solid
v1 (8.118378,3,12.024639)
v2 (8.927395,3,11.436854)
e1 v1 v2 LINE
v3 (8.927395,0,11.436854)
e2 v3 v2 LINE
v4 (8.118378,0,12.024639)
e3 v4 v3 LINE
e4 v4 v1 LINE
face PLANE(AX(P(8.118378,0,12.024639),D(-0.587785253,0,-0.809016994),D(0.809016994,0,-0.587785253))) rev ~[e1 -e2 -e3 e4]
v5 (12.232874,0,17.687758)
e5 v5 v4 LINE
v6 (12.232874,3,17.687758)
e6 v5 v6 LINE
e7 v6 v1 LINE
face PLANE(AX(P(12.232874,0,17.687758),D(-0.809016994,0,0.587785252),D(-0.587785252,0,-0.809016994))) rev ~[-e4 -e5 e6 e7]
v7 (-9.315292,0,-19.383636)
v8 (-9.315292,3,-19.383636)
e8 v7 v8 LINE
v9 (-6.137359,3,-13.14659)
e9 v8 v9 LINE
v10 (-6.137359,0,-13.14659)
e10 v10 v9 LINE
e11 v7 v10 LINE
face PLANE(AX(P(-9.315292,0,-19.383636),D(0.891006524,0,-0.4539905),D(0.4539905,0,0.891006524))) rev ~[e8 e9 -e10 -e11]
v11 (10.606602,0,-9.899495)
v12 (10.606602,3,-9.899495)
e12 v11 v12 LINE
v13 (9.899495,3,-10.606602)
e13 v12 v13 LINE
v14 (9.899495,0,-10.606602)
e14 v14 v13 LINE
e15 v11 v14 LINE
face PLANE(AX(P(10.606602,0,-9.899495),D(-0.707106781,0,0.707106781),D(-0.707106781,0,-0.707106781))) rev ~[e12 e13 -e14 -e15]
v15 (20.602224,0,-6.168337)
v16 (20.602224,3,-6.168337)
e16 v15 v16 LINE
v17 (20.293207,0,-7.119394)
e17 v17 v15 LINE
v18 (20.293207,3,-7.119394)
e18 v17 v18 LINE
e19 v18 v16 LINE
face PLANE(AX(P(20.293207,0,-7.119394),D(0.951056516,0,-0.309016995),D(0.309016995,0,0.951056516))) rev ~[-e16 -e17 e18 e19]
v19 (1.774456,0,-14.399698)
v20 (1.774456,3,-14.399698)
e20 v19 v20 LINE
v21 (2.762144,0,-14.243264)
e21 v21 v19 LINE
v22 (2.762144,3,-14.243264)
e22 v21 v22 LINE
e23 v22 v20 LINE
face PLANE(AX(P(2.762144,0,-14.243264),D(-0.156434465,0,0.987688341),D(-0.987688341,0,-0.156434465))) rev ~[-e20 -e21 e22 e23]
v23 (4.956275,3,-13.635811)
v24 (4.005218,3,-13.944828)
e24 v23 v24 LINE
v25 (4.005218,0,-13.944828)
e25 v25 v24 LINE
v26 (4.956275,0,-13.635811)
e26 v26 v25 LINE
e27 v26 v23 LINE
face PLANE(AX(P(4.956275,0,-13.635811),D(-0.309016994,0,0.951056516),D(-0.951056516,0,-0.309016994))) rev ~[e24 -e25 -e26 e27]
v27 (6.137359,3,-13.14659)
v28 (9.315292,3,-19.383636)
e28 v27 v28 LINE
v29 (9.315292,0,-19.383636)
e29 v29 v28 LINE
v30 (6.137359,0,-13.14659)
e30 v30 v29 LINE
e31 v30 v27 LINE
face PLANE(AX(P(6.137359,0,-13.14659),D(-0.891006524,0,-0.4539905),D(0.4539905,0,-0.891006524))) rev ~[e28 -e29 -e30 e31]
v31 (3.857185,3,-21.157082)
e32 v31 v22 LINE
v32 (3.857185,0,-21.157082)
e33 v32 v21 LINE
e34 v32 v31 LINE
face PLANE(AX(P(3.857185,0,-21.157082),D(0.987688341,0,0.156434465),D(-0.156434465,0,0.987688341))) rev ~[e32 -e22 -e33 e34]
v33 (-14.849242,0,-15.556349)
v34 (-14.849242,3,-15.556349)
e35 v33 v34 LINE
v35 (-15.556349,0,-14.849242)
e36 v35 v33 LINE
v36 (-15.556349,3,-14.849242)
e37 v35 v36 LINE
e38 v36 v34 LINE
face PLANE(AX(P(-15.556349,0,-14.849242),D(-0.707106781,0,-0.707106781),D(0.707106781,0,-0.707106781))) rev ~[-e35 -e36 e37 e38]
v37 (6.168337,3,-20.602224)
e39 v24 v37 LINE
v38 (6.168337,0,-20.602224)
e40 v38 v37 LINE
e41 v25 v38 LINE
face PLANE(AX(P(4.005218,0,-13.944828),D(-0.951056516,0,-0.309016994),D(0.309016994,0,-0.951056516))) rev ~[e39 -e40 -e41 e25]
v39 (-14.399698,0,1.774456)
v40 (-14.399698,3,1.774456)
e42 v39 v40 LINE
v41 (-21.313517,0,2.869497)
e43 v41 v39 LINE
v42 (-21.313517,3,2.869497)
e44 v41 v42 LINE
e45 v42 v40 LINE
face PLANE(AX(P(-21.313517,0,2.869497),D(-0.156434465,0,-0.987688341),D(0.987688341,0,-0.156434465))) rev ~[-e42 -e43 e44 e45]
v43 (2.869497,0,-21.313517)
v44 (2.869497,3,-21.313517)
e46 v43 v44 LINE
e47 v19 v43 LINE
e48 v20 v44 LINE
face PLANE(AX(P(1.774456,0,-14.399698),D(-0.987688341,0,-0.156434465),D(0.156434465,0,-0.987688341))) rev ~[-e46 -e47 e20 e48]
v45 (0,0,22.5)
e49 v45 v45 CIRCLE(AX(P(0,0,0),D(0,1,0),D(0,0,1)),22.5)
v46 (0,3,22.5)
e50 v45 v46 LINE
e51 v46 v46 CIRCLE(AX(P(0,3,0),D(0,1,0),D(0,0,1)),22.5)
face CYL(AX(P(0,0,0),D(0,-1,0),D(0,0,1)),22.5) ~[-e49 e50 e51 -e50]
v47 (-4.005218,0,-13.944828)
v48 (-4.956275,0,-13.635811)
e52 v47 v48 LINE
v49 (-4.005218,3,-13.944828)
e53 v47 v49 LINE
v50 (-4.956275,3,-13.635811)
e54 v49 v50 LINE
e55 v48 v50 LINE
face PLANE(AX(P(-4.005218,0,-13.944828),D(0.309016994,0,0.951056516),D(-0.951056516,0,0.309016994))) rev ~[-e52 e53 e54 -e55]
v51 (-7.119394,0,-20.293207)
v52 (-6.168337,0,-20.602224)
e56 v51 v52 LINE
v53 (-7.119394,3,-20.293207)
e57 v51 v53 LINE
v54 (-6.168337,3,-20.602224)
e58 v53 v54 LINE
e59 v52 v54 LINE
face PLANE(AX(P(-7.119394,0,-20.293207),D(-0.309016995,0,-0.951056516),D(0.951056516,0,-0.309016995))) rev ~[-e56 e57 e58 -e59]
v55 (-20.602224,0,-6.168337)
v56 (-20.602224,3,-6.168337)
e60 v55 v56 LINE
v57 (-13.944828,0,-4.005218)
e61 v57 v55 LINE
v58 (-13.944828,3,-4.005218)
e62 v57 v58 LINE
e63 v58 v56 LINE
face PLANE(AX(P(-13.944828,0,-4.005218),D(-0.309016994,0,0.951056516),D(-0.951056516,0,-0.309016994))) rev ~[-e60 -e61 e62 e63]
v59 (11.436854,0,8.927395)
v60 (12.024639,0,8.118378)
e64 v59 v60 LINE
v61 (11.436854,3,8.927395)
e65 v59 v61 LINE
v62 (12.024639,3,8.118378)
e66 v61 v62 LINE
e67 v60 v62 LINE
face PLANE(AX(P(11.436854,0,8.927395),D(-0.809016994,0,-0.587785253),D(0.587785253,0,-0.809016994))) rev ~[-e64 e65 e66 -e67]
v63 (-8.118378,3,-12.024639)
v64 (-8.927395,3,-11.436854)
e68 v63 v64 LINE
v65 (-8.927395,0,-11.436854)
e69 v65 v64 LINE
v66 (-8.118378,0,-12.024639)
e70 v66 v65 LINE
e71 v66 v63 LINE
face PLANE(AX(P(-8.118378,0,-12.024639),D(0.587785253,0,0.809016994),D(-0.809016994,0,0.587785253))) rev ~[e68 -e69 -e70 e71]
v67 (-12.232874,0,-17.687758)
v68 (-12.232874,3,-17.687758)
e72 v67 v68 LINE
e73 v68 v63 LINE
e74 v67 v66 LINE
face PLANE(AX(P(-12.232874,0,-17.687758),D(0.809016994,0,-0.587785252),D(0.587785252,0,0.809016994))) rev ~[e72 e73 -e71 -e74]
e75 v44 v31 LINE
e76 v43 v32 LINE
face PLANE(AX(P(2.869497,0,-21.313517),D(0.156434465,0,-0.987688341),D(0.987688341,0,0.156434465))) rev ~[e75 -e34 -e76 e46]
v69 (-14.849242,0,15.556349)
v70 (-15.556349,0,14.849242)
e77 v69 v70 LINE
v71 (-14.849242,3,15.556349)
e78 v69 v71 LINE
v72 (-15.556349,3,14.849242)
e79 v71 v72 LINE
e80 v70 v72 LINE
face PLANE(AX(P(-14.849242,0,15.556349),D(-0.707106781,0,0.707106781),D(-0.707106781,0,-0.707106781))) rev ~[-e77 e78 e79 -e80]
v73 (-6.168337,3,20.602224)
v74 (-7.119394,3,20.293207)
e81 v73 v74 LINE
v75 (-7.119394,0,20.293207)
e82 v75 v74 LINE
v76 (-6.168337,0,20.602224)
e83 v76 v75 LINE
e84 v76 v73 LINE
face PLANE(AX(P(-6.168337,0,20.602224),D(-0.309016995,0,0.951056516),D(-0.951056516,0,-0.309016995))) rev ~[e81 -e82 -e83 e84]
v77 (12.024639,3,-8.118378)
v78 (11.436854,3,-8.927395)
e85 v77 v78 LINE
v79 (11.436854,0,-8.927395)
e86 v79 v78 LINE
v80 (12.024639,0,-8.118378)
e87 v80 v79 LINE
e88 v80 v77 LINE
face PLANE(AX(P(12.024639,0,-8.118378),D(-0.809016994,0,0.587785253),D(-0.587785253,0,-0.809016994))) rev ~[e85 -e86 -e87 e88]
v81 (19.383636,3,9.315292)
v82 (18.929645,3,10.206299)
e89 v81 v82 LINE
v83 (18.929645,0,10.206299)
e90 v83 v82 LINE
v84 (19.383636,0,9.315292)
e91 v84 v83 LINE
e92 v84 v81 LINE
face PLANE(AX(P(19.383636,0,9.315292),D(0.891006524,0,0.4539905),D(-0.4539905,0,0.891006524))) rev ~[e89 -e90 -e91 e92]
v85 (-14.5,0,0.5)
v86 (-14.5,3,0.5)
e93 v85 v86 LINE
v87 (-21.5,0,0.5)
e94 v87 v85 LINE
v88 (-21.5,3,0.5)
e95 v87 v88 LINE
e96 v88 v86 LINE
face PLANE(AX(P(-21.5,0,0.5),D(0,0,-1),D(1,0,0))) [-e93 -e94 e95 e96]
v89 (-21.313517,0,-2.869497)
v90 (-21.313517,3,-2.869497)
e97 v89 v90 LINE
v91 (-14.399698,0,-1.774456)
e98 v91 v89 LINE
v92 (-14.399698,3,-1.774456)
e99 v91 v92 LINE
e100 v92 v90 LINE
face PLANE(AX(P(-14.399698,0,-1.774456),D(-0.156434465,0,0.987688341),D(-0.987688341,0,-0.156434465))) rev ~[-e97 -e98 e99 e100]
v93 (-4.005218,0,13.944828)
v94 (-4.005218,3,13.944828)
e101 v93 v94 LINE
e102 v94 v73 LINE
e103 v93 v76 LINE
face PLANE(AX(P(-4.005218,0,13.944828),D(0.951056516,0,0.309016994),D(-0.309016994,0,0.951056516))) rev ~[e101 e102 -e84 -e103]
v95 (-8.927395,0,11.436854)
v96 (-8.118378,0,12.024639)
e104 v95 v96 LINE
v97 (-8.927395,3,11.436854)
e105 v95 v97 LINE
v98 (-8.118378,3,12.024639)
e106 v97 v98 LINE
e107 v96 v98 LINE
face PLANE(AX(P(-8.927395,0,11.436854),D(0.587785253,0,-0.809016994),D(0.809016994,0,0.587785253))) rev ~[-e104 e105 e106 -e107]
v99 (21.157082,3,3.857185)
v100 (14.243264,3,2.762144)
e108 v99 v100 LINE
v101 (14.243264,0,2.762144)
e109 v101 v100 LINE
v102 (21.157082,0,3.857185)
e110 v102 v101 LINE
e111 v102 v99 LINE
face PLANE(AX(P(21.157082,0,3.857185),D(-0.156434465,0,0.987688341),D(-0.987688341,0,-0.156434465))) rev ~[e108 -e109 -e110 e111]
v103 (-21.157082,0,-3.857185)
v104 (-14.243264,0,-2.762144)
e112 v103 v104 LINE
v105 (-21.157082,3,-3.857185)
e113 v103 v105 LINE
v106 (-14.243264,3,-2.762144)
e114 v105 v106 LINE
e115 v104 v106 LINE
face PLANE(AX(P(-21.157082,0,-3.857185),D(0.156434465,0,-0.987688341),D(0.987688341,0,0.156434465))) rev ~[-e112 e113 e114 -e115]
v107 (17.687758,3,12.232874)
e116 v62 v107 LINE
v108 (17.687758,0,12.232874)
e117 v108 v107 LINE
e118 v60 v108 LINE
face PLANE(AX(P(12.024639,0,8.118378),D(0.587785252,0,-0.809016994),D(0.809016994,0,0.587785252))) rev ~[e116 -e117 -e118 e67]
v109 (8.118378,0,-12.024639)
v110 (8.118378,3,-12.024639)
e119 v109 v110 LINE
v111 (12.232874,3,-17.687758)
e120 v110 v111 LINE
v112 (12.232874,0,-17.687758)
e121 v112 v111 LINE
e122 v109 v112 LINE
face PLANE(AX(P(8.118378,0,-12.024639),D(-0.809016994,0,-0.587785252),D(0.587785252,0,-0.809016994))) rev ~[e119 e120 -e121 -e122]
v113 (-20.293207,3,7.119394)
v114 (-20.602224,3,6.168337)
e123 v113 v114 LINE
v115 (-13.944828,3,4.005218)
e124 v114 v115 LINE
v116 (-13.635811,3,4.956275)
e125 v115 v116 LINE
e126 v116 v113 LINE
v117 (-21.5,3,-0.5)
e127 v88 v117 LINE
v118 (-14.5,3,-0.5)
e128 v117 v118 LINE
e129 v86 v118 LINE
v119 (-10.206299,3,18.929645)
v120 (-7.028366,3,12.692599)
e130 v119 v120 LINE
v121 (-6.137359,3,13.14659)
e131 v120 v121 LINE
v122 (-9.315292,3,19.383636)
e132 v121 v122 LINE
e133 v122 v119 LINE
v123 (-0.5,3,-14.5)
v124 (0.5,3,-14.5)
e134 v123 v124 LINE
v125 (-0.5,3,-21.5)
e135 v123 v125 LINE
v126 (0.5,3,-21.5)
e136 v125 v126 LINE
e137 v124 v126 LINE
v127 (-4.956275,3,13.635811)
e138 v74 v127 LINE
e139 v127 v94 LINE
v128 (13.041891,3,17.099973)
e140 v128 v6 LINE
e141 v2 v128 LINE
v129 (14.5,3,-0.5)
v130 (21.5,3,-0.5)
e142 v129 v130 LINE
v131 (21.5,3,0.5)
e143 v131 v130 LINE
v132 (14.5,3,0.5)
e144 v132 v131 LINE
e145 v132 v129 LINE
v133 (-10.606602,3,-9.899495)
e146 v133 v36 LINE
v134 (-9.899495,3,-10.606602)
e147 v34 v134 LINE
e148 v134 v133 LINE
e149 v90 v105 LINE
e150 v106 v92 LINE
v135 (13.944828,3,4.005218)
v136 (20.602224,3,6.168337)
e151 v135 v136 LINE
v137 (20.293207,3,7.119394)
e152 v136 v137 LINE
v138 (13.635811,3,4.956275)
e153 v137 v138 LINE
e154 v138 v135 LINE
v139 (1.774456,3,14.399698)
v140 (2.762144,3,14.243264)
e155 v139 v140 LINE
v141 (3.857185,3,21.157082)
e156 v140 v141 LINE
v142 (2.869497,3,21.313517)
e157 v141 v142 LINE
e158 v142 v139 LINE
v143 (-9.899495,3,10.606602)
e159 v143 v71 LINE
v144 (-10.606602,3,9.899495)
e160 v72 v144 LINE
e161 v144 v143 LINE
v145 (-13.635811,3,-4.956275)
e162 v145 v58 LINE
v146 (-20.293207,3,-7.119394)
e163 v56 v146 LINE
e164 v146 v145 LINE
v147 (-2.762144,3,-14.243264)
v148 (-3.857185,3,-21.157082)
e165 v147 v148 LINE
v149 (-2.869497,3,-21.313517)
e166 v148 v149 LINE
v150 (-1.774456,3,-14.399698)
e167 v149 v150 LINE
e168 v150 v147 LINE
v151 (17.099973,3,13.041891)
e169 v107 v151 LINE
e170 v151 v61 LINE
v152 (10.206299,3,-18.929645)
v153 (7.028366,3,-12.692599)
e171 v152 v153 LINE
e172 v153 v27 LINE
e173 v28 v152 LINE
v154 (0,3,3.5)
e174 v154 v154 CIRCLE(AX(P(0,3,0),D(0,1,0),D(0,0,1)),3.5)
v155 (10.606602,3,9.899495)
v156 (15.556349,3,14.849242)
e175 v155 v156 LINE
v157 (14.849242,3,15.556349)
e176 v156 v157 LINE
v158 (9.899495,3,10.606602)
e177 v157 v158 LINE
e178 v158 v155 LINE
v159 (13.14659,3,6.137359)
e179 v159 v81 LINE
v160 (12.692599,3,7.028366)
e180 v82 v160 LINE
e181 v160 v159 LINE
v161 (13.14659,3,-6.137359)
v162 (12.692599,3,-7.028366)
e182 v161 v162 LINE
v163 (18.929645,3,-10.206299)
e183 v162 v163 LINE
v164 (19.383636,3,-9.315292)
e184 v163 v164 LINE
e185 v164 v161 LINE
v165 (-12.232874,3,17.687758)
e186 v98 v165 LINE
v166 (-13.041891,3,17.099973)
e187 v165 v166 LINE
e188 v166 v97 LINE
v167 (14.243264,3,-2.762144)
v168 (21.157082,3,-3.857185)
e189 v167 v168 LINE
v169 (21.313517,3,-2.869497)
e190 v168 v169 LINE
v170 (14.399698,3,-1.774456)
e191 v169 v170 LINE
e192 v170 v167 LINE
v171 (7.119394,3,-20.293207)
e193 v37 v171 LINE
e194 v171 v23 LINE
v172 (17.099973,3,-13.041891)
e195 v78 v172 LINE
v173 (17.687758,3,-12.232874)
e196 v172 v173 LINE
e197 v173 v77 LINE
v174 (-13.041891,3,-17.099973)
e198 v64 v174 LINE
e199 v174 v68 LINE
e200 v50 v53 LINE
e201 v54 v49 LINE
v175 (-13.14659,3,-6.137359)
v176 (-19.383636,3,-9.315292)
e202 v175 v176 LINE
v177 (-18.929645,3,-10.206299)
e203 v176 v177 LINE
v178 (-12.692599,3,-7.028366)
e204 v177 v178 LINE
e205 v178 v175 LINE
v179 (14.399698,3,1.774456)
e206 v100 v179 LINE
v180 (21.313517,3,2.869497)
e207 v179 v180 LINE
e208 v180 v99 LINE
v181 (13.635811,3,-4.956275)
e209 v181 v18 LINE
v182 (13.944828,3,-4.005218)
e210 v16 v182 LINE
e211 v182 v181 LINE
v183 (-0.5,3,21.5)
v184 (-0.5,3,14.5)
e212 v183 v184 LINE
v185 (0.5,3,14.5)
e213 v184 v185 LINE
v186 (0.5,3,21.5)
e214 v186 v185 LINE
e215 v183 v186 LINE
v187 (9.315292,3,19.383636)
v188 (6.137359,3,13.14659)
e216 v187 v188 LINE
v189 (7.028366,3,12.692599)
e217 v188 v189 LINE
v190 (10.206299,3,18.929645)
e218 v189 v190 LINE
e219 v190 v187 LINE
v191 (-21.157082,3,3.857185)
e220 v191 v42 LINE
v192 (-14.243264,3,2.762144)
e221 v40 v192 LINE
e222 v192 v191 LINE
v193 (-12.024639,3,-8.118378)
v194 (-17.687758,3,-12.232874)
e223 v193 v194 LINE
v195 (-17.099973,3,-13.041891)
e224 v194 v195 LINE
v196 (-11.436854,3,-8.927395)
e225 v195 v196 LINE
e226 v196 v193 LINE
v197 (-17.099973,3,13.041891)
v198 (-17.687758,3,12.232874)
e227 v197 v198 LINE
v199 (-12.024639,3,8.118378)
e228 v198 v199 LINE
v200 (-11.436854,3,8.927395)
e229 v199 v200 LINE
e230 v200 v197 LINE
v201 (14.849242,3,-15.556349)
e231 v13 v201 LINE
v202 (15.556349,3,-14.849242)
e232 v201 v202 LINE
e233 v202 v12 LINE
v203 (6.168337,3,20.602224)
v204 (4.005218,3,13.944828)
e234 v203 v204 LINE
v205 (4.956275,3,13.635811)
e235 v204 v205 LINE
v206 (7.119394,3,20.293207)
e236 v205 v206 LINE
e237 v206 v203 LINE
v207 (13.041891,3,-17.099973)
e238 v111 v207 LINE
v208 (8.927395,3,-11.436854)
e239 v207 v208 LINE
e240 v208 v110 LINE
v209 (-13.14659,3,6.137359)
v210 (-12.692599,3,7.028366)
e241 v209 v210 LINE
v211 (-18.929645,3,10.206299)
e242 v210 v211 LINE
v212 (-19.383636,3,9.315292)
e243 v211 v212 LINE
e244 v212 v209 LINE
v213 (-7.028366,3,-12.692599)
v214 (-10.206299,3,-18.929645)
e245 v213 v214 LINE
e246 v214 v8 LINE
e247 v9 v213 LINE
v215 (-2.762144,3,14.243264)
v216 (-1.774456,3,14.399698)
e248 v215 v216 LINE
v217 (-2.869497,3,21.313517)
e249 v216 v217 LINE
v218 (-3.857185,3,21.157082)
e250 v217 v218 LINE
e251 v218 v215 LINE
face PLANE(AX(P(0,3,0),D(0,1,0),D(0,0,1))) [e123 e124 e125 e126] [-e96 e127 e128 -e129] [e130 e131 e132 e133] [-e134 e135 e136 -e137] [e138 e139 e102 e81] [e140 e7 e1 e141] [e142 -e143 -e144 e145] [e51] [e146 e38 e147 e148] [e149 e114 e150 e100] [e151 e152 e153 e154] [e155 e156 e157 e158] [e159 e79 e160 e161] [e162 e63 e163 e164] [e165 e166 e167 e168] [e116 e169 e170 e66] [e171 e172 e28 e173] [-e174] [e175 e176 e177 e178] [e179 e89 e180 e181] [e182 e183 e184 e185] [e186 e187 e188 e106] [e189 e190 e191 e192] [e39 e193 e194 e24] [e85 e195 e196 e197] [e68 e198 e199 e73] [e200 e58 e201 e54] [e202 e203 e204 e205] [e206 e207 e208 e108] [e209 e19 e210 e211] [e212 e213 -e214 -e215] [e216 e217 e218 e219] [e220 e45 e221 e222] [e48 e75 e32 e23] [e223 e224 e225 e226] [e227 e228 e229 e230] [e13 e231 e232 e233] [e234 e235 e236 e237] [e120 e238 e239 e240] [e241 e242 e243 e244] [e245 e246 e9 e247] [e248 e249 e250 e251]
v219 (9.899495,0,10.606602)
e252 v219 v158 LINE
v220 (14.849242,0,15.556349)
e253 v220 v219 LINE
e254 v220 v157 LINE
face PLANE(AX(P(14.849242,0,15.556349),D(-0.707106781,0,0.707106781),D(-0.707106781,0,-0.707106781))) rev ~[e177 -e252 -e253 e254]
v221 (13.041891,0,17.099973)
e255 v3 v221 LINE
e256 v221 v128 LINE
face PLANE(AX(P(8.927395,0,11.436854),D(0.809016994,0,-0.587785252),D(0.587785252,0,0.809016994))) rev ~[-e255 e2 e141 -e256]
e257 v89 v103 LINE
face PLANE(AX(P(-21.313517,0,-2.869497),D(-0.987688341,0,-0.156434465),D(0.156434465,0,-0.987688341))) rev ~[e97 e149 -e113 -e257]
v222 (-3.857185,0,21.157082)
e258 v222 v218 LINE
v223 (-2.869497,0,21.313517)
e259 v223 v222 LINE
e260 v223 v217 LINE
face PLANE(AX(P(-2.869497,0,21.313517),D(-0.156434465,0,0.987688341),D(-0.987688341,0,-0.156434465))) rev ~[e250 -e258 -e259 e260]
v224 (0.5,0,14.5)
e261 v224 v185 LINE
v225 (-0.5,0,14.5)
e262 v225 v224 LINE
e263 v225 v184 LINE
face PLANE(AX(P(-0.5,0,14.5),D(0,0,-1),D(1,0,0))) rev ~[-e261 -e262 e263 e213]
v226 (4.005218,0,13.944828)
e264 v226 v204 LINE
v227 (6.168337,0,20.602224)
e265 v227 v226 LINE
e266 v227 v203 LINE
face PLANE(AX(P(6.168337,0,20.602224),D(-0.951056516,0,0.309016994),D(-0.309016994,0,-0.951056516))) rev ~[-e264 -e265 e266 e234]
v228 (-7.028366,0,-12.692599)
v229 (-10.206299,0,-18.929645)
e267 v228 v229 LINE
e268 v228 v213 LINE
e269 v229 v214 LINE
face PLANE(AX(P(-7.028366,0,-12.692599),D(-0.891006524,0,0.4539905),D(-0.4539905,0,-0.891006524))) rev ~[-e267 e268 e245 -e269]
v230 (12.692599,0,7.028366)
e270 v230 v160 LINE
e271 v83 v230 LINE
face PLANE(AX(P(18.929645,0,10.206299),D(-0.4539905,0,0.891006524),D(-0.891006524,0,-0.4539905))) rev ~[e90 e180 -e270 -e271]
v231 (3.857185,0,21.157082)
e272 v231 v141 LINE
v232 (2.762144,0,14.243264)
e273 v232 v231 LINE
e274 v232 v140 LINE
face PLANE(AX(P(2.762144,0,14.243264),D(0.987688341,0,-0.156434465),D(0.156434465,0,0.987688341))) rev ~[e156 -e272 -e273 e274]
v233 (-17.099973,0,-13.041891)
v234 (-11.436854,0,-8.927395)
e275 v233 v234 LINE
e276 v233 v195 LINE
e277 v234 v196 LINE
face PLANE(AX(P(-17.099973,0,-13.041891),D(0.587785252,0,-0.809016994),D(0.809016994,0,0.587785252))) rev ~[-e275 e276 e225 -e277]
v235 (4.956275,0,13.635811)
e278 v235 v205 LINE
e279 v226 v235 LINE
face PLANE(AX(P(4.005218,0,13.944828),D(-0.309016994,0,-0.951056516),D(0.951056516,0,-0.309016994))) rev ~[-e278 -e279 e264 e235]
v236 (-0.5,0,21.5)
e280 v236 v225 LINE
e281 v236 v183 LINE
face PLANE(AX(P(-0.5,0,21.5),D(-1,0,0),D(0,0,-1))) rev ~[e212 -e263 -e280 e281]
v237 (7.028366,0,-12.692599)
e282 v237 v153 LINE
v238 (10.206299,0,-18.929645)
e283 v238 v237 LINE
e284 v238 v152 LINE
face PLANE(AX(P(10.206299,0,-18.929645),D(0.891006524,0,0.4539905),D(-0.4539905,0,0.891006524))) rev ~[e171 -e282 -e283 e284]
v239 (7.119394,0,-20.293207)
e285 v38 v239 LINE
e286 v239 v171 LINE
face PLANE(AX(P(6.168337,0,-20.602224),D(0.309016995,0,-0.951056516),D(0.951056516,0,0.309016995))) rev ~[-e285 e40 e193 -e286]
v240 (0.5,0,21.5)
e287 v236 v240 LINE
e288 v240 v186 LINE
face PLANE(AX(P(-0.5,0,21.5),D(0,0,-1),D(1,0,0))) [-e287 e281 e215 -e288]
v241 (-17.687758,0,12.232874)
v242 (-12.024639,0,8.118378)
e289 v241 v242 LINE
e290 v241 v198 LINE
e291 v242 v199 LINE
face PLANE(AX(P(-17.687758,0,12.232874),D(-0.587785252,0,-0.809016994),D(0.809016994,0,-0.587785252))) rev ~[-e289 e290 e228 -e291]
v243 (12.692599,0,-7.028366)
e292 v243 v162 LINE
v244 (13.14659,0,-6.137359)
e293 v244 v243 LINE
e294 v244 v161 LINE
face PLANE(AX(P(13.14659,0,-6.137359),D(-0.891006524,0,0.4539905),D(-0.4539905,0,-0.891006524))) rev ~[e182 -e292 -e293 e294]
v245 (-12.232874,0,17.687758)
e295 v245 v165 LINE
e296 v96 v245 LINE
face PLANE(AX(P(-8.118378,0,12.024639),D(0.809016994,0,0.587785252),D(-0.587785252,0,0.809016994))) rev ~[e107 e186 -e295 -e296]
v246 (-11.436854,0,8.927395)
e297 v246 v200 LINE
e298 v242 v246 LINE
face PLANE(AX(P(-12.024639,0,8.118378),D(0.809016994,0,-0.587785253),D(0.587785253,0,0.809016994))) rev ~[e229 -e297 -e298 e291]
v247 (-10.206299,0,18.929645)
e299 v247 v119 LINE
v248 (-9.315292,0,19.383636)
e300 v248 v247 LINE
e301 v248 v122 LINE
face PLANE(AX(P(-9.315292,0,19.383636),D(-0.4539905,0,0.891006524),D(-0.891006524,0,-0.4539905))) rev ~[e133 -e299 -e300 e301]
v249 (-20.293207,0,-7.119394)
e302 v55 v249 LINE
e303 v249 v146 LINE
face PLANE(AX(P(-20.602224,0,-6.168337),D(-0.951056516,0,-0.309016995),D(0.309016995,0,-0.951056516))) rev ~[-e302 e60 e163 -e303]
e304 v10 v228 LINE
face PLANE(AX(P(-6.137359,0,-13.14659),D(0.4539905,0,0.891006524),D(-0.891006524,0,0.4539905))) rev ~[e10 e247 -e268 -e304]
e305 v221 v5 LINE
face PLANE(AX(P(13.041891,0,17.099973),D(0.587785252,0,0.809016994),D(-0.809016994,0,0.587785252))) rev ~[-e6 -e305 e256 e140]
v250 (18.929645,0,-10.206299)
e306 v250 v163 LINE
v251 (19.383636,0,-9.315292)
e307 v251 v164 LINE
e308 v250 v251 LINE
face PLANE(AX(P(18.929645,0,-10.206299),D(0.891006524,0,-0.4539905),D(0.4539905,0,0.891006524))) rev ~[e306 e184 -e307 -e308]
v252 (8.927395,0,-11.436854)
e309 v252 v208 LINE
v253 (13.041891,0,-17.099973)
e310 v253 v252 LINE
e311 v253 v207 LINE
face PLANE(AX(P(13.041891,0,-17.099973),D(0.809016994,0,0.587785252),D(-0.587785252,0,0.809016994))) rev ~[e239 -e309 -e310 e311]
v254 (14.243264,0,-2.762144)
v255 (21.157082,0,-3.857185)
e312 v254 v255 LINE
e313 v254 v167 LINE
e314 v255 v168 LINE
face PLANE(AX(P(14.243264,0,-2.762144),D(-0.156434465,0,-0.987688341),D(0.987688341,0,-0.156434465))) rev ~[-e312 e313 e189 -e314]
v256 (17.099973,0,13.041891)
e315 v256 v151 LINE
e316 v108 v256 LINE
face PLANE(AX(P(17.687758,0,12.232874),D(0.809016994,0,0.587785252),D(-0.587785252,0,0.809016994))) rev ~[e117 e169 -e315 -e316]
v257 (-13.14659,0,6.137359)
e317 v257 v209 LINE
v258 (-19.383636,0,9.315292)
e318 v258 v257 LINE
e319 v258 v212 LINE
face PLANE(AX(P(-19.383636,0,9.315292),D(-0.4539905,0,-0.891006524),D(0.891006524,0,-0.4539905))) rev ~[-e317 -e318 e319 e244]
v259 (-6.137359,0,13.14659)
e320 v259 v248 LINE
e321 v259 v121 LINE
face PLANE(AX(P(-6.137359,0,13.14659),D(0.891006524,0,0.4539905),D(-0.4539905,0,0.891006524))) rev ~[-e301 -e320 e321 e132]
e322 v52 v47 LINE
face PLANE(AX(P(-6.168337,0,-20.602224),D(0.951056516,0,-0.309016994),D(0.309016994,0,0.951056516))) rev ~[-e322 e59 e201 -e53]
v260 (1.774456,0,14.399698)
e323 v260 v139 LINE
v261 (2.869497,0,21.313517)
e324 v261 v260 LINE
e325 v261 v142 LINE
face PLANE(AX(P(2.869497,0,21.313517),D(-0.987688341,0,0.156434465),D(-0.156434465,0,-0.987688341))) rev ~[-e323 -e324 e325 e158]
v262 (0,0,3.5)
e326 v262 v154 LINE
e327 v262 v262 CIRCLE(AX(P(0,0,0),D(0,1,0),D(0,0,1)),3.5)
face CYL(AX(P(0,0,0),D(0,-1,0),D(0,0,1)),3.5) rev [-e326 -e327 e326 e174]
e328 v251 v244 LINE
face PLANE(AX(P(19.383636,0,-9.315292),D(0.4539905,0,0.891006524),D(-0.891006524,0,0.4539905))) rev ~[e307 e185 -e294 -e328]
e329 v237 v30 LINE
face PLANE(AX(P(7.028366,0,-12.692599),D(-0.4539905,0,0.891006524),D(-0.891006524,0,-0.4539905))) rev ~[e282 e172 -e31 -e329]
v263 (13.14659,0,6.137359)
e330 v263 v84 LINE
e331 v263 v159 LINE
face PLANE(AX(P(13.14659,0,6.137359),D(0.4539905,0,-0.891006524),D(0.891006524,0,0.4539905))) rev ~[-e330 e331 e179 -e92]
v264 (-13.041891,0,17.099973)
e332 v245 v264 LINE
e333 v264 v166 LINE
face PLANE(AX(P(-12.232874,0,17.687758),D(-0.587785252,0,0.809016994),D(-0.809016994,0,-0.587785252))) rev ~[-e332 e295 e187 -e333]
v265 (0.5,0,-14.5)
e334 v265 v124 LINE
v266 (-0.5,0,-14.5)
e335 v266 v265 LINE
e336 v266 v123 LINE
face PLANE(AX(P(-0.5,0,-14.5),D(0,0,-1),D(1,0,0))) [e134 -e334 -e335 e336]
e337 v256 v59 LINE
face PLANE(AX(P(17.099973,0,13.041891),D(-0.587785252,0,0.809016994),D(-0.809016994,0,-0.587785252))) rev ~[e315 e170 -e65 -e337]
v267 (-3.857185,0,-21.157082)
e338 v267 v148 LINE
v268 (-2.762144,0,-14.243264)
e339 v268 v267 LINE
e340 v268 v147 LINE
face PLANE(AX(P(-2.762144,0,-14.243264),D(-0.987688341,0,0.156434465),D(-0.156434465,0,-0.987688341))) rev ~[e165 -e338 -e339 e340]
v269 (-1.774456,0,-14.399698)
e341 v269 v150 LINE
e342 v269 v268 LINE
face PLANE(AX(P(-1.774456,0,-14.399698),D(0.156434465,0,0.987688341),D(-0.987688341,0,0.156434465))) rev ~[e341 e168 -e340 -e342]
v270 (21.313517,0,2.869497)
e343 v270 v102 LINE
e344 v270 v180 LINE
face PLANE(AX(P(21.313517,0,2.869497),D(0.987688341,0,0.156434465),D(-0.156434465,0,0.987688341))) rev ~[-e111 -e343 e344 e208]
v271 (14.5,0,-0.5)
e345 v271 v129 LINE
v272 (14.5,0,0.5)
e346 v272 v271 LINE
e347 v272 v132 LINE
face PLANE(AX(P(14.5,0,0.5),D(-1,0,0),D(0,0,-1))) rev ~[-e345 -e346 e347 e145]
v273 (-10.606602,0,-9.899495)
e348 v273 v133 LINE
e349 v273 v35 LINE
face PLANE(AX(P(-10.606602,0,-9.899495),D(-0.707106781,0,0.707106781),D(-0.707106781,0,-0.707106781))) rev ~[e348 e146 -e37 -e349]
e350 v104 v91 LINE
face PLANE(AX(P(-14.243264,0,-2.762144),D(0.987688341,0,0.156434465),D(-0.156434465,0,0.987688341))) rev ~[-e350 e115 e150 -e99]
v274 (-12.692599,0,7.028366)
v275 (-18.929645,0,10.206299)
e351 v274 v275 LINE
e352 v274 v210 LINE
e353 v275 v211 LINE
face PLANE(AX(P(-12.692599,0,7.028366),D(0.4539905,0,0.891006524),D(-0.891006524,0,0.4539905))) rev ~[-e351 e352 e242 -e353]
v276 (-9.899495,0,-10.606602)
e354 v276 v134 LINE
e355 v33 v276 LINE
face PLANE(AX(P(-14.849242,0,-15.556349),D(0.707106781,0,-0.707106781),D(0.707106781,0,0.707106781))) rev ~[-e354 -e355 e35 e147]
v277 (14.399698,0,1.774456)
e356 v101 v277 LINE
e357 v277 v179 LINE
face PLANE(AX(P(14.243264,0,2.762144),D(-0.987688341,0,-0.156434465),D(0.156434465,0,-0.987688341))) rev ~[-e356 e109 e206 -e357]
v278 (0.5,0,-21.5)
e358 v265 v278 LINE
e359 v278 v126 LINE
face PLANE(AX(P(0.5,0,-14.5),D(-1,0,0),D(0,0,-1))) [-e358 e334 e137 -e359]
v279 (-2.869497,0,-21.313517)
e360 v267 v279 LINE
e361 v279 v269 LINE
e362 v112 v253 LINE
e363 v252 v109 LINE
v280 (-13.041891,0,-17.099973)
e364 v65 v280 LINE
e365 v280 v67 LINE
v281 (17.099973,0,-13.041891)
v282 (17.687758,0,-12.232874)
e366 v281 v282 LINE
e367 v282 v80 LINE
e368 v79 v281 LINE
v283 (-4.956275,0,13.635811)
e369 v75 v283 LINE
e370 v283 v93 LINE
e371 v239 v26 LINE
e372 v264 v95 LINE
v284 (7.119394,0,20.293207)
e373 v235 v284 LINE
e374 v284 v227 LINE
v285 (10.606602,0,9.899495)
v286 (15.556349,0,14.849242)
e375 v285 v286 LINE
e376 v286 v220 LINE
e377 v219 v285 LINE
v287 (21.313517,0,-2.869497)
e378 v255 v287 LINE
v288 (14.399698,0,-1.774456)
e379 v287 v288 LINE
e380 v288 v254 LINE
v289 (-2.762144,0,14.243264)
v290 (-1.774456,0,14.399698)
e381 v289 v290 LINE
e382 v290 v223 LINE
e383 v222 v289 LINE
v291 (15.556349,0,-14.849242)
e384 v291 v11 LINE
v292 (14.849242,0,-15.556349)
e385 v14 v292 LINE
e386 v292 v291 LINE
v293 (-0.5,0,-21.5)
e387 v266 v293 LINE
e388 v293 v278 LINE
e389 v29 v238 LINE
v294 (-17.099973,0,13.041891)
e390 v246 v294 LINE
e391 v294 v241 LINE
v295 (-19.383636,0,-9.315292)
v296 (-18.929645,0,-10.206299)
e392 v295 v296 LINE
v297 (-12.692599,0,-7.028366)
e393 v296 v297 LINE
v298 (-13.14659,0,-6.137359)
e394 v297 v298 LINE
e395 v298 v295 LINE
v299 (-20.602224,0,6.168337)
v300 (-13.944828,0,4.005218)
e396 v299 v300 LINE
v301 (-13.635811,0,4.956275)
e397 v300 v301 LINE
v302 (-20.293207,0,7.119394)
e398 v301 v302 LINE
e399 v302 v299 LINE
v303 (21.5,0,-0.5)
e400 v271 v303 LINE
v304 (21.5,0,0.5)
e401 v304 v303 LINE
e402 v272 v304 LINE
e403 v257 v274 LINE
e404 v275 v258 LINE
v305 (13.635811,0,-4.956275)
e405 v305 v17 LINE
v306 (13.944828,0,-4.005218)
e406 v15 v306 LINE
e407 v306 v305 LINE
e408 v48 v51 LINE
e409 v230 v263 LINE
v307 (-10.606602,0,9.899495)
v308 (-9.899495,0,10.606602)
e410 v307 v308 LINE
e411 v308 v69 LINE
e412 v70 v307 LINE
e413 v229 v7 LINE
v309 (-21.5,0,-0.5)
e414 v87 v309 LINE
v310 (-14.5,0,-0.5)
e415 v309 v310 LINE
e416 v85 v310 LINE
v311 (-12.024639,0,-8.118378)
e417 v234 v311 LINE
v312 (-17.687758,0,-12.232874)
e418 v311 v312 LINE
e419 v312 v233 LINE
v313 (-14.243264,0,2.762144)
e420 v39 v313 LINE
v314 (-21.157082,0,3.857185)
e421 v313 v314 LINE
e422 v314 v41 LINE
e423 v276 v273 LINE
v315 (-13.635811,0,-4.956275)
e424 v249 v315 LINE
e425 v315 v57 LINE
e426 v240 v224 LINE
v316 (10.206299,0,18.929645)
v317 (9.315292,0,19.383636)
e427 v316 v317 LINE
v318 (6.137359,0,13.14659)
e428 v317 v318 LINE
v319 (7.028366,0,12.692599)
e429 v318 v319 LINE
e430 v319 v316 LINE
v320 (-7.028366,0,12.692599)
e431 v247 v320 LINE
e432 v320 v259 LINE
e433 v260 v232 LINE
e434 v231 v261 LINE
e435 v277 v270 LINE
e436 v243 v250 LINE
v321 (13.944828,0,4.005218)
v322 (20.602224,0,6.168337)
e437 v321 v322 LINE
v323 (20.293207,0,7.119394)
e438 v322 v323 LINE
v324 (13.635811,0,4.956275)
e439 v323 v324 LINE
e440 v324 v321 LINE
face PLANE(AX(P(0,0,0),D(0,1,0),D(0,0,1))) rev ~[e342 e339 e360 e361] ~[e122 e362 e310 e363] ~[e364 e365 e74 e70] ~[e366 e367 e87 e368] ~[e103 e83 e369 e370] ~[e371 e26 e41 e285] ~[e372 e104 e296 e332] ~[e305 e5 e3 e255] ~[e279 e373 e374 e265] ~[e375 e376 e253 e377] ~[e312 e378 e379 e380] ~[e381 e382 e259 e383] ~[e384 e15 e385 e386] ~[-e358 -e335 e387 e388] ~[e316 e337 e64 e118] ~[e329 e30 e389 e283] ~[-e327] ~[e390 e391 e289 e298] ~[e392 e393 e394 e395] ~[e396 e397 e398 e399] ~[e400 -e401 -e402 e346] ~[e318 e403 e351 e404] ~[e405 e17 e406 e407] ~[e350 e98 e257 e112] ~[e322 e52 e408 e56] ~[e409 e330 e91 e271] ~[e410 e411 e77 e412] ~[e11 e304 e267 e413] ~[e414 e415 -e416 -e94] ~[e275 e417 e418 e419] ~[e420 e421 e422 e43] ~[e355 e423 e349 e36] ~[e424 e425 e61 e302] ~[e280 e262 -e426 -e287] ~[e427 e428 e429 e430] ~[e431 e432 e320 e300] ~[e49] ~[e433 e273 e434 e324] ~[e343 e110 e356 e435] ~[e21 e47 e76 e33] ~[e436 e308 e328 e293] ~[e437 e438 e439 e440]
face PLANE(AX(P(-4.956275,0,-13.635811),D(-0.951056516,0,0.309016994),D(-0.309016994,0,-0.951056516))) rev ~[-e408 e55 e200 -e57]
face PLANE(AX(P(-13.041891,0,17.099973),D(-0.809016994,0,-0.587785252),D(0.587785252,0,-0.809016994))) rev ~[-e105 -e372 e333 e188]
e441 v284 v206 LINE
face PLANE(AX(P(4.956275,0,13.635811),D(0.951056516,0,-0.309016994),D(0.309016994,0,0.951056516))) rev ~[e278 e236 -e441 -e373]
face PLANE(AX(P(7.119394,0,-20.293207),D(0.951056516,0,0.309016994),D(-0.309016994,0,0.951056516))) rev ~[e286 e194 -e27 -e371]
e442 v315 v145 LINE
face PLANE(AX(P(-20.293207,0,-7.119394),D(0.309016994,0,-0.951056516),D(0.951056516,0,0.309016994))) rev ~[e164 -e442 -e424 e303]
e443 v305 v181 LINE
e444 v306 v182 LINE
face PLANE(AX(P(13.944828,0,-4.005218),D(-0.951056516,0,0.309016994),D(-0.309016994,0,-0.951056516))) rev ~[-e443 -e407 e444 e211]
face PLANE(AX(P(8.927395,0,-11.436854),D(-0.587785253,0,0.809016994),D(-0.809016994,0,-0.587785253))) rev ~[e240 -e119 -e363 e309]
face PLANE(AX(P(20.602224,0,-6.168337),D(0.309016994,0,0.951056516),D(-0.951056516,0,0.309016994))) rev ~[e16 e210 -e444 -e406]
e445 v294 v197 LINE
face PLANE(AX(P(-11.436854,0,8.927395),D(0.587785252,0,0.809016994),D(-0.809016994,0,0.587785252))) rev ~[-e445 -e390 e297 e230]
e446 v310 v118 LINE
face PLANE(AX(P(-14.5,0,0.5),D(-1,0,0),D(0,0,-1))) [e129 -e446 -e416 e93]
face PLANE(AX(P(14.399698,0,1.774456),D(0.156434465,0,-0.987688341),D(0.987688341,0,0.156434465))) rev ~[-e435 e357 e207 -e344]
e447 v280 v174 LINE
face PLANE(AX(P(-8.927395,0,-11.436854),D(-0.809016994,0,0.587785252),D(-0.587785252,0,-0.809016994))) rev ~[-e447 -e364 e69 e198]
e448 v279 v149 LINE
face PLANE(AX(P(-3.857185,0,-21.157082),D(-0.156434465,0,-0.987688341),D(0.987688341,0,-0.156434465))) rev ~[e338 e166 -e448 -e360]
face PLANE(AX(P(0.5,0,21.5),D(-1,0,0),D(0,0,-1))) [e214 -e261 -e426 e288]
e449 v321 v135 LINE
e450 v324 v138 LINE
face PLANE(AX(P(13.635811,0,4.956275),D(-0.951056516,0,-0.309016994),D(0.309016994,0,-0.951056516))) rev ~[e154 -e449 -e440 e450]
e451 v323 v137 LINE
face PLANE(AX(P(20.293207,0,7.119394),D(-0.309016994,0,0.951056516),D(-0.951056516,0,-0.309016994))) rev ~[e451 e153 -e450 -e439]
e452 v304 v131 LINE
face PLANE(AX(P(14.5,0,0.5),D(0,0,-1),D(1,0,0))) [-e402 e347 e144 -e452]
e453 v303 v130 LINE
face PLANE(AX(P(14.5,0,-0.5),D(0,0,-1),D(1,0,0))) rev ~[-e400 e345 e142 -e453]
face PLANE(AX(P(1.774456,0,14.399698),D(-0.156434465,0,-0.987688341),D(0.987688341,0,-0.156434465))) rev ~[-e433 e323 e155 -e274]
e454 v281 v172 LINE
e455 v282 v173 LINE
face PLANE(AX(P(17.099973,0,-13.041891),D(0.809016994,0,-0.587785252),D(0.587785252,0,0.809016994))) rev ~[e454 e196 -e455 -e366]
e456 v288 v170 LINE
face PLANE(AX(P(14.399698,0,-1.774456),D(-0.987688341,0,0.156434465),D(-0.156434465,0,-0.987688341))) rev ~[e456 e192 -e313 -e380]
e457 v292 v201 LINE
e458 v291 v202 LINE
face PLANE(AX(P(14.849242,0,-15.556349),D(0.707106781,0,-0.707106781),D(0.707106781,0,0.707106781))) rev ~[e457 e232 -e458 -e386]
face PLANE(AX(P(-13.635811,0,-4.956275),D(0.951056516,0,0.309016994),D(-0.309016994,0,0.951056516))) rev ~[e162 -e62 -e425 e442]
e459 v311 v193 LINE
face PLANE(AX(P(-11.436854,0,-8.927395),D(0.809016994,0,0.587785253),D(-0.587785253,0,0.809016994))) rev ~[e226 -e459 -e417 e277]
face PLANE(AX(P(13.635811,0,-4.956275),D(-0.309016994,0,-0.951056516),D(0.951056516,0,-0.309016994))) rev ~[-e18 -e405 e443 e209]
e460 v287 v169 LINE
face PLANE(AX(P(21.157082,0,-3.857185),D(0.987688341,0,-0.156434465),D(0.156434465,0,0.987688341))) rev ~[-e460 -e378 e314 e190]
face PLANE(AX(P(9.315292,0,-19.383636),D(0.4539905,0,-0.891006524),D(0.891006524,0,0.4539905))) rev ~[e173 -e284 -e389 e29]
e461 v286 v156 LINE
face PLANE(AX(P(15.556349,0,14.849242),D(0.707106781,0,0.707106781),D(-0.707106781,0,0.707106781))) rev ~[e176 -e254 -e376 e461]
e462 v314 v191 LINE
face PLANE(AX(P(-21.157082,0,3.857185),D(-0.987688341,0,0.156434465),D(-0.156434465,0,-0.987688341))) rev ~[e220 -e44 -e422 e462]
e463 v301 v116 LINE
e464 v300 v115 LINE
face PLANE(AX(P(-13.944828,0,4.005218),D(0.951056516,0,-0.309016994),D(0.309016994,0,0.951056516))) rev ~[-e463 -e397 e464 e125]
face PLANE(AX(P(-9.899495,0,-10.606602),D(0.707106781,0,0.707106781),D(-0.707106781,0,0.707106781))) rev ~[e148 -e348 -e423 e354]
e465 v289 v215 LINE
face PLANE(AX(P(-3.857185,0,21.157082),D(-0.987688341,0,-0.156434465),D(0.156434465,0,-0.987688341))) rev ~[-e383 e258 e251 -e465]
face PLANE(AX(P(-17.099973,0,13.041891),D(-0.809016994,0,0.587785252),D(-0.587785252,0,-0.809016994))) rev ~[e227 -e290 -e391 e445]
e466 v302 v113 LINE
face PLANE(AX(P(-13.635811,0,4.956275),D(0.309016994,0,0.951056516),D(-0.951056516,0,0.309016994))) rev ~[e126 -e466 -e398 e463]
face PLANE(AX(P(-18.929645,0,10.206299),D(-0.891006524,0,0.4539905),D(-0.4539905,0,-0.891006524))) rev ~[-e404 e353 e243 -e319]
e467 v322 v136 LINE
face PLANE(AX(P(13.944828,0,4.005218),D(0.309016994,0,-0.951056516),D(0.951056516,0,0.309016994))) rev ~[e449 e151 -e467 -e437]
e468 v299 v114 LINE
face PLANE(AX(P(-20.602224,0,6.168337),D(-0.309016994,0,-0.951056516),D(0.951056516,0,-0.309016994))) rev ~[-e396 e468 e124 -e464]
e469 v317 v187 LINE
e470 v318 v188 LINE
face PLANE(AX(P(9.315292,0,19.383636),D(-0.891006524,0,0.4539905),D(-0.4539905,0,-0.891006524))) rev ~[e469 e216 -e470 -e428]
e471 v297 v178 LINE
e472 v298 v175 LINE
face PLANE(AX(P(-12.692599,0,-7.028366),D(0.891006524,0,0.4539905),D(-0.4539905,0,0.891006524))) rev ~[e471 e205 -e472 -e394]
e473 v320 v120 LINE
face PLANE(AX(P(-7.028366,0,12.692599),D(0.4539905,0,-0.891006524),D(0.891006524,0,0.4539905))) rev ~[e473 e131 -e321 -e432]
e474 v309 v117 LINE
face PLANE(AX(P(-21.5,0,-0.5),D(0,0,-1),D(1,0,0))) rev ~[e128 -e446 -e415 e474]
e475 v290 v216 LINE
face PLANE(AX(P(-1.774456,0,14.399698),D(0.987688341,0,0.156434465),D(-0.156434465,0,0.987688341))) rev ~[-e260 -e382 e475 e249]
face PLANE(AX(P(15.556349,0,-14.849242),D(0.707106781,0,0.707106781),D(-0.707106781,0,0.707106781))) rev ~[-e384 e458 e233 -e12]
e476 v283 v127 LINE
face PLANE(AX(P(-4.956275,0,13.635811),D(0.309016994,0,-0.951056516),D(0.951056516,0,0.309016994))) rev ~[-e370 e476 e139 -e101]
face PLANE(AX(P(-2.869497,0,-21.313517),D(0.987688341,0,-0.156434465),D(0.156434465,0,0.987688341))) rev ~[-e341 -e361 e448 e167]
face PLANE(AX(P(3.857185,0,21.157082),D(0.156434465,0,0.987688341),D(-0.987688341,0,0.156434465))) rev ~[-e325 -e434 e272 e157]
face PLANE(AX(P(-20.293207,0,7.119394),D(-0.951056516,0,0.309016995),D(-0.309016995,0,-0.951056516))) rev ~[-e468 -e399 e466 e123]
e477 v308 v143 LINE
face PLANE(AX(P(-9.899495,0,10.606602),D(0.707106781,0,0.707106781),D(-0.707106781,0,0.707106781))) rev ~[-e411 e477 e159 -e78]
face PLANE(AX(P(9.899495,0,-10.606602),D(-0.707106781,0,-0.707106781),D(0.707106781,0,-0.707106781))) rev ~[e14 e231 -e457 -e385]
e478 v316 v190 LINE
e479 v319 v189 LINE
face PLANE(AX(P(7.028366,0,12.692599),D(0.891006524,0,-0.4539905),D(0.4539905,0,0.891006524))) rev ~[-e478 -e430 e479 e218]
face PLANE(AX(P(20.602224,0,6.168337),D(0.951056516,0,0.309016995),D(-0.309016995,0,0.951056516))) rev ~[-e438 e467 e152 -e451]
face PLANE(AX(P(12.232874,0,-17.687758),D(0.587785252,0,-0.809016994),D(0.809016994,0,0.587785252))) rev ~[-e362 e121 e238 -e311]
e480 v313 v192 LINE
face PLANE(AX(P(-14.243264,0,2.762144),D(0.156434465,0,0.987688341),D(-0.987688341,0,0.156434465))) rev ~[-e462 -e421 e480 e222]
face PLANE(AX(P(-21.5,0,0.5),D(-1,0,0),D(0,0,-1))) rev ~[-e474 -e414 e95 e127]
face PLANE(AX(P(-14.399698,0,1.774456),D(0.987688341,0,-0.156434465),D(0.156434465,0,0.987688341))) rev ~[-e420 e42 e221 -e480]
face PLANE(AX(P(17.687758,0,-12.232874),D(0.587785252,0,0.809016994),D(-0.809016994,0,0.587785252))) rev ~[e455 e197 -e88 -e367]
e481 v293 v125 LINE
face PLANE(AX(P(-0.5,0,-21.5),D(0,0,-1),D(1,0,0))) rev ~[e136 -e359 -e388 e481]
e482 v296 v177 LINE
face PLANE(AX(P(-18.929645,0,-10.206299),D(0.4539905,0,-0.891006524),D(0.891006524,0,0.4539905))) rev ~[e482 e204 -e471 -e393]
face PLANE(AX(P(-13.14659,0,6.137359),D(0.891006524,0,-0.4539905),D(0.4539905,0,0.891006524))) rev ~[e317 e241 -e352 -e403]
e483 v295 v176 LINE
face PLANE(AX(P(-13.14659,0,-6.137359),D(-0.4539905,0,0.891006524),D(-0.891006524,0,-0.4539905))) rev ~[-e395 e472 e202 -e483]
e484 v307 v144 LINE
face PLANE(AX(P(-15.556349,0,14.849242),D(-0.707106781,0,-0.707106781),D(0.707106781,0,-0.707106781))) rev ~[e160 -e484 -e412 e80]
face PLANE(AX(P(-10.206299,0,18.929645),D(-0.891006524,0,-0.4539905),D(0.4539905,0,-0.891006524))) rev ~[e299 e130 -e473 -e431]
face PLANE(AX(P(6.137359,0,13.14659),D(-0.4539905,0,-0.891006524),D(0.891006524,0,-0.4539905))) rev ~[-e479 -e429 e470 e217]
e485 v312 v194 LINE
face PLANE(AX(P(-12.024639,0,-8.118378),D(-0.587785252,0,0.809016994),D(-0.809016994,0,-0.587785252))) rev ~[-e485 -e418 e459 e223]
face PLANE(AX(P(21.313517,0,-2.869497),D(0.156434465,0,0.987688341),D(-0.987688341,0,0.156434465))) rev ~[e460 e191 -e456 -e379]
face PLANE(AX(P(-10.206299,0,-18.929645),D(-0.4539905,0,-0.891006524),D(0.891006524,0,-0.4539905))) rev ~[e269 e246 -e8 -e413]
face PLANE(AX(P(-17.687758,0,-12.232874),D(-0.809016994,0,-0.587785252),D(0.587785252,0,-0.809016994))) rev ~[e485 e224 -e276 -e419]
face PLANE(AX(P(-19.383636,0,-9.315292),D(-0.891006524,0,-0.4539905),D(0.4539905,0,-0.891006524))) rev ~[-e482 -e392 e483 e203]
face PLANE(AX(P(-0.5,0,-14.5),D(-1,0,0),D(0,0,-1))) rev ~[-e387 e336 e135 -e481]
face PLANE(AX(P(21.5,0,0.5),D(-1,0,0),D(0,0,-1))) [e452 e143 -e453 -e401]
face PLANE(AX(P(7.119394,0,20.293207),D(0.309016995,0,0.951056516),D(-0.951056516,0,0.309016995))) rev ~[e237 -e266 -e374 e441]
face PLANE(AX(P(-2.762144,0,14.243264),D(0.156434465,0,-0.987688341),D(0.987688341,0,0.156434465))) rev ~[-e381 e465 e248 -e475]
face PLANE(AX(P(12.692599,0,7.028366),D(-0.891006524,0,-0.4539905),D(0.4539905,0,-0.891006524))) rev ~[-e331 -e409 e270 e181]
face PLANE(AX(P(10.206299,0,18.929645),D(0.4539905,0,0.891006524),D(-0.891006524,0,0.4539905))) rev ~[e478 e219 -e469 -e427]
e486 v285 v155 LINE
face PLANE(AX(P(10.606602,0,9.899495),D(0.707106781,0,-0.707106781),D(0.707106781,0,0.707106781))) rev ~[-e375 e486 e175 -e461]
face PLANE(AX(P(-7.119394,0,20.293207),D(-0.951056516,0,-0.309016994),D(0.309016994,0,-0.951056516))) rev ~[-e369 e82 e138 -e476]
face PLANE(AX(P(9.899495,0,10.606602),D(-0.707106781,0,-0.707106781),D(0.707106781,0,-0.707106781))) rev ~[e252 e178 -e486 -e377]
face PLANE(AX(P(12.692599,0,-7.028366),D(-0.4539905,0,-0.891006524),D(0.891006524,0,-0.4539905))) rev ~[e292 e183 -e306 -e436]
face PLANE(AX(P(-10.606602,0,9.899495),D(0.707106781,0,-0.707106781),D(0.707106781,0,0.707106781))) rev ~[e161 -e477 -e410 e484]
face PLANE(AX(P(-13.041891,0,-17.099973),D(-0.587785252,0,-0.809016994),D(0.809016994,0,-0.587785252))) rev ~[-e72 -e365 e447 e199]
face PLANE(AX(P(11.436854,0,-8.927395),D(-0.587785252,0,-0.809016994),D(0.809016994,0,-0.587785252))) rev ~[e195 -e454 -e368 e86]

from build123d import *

# Parameters (mm, degrees)
CROQUIS1_R              = 22.5
CROQUIS1_R_2            = 3.5
CROQUIS1_W              = 1
CROQUIS1_H              = 7
CROQUIS1_W_2            = 7
CROQUIS1_H_2            = 1
SALIENTE_EXTRUIR1_DEPTH = 3


with BuildPart() as part:
    # Croquis1 → Saliente-Extruir1 (new body)
    with BuildSketch(Plane(origin=(0, 0, 0), x_dir=(1, 0, 0), z_dir=(0, 1, 0))):
        with Locations(Location((0, 0, 0), (0, 0, 270))):
            Circle(CROQUIS1_R)
        with Locations(Location((0, 0, 0), (0, 0, 270))):
            Circle(CROQUIS1_R_2, mode=Mode.SUBTRACT)
        with Locations((0, 18)):
            Rectangle(CROQUIS1_W, CROQUIS1_H, mode=Mode.SUBTRACT)
        Polygon((2.869496828, 21.313516555), (3.857185169, 21.15708209), (2.762143913, 14.243263706), (1.774455573, 14.399698171), align=None, mode=Mode.SUBTRACT)
        Polygon((6.168337121, 20.602223598), (7.119393637, 20.293206603), (4.956274677, 13.635810989), (4.00521816, 13.944827983), align=None, mode=Mode.SUBTRACT)
        Polygon((9.315292482, 19.38363552), (10.206299006, 18.92964502), (7.028365508, 12.692599351), (6.137358984, 13.146589851), align=None, mode=Mode.SUBTRACT)
        Polygon((12.232874427, 17.687758005), (13.041891421, 17.099972753), (8.927394655, 11.436853792), (8.118377661, 12.024639045), align=None, mode=Mode.SUBTRACT)
        Polygon((14.849242405, 15.556349186), (15.556349186, 14.849242405), (10.606601718, 9.899494937), (9.899494937, 10.606601718), align=None, mode=Mode.SUBTRACT)
        Polygon((17.099972753, 13.041891421), (17.687758005, 12.232874427), (12.024639045, 8.118377661), (11.436853792, 8.927394655), align=None, mode=Mode.SUBTRACT)
        Polygon((18.92964502, 10.206299006), (19.38363552, 9.315292482), (13.146589851, 6.137358984), (12.692599351, 7.028365508), align=None, mode=Mode.SUBTRACT)
        Polygon((20.293206603, 7.119393637), (20.602223598, 6.168337121), (13.944827983, 4.00521816), (13.635810989, 4.956274677), align=None, mode=Mode.SUBTRACT)
        Polygon((21.15708209, 3.857185169), (21.313516555, 2.869496828), (14.399698171, 1.774455573), (14.243263706, 2.762143913), align=None, mode=Mode.SUBTRACT)
        with Locations((18, 0)):
            Rectangle(CROQUIS1_W_2, CROQUIS1_H_2, mode=Mode.SUBTRACT)
        Polygon((21.313516555, -2.869496828), (21.15708209, -3.857185169), (14.243263706, -2.762143913), (14.399698171, -1.774455573), align=None, mode=Mode.SUBTRACT)
        Polygon((20.602223598, -6.168337121), (20.293206603, -7.119393637), (13.635810989, -4.956274677), (13.944827983, -4.00521816), align=None, mode=Mode.SUBTRACT)
        Polygon((19.38363552, -9.315292482), (18.92964502, -10.206299006), (12.692599351, -7.028365508), (13.146589851, -6.137358984), align=None, mode=Mode.SUBTRACT)
        Polygon((17.687758005, -12.232874427), (17.099972753, -13.041891421), (11.436853792, -8.927394655), (12.024639045, -8.118377661), align=None, mode=Mode.SUBTRACT)
        Polygon((15.556349186, -14.849242405), (14.849242405, -15.556349186), (9.899494937, -10.606601718), (10.606601718, -9.899494937), align=None, mode=Mode.SUBTRACT)
        Polygon((13.041891421, -17.099972753), (12.232874427, -17.687758005), (8.118377661, -12.024639045), (8.927394655, -11.436853792), align=None, mode=Mode.SUBTRACT)
        Polygon((10.206299006, -18.92964502), (9.315292482, -19.38363552), (6.137358984, -13.146589851), (7.028365508, -12.692599351), align=None, mode=Mode.SUBTRACT)
        Polygon((7.119393637, -20.293206603), (6.168337121, -20.602223598), (4.00521816, -13.944827983), (4.956274677, -13.635810989), align=None, mode=Mode.SUBTRACT)
        Polygon((3.857185169, -21.15708209), (2.869496828, -21.313516555), (1.774455573, -14.399698171), (2.762143913, -14.243263706), align=None, mode=Mode.SUBTRACT)
        with Locations((0, -18)):
            Rectangle(CROQUIS1_W, CROQUIS1_H, mode=Mode.SUBTRACT)
        Polygon((-2.869496828, -21.313516555), (-3.857185169, -21.15708209), (-2.762143913, -14.243263706), (-1.774455573, -14.399698171), align=None, mode=Mode.SUBTRACT)
        Polygon((-6.168337121, -20.602223598), (-7.119393637, -20.293206603), (-4.956274677, -13.635810989), (-4.00521816, -13.944827983), align=None, mode=Mode.SUBTRACT)
        Polygon((-9.315292482, -19.38363552), (-10.206299006, -18.92964502), (-7.028365508, -12.692599351), (-6.137358984, -13.146589851), align=None, mode=Mode.SUBTRACT)
        Polygon((-12.232874427, -17.687758005), (-13.041891421, -17.099972753), (-8.927394655, -11.436853792), (-8.118377661, -12.024639045), align=None, mode=Mode.SUBTRACT)
        Polygon((-14.849242405, -15.556349186), (-15.556349186, -14.849242405), (-10.606601718, -9.899494937), (-9.899494937, -10.606601718), align=None, mode=Mode.SUBTRACT)
        Polygon((-17.099972753, -13.041891421), (-17.687758005, -12.232874427), (-12.024639045, -8.118377661), (-11.436853792, -8.927394655), align=None, mode=Mode.SUBTRACT)
        Polygon((-18.92964502, -10.206299006), (-19.38363552, -9.315292482), (-13.146589851, -6.137358984), (-12.692599351, -7.028365508), align=None, mode=Mode.SUBTRACT)
        Polygon((-20.293206603, -7.119393637), (-20.602223598, -6.168337121), (-13.944827983, -4.00521816), (-13.635810989, -4.956274677), align=None, mode=Mode.SUBTRACT)
        Polygon((-21.15708209, -3.857185169), (-21.313516555, -2.869496828), (-14.399698171, -1.774455573), (-14.243263706, -2.762143913), align=None, mode=Mode.SUBTRACT)
        with Locations((-18, 0)):
            Rectangle(CROQUIS1_W_2, CROQUIS1_H_2, mode=Mode.SUBTRACT)
        Polygon((-21.313516555, 2.869496828), (-21.15708209, 3.857185169), (-14.243263706, 2.762143913), (-14.399698171, 1.774455573), align=None, mode=Mode.SUBTRACT)
        Polygon((-20.602223598, 6.168337121), (-20.293206603, 7.119393637), (-13.635810989, 4.956274677), (-13.944827983, 4.00521816), align=None, mode=Mode.SUBTRACT)
        Polygon((-19.38363552, 9.315292482), (-18.92964502, 10.206299006), (-12.692599351, 7.028365508), (-13.146589851, 6.137358984), align=None, mode=Mode.SUBTRACT)
        Polygon((-17.687758005, 12.232874427), (-17.099972753, 13.041891421), (-11.436853792, 8.927394655), (-12.024639045, 8.118377661), align=None, mode=Mode.SUBTRACT)
        Polygon((-15.556349186, 14.849242405), (-14.849242405, 15.556349186), (-9.899494937, 10.606601718), (-10.606601718, 9.899494937), align=None, mode=Mode.SUBTRACT)
        Polygon((-13.041891421, 17.099972753), (-12.232874427, 17.687758005), (-8.118377661, 12.024639045), (-8.927394655, 11.436853792), align=None, mode=Mode.SUBTRACT)
        Polygon((-10.206299006, 18.92964502), (-9.315292482, 19.38363552), (-6.137358984, 13.146589851), (-7.028365508, 12.692599351), align=None, mode=Mode.SUBTRACT)
        Polygon((-7.119393637, 20.293206603), (-6.168337121, 20.602223598), (-4.00521816, 13.944827983), (-4.956274677, 13.635810989), align=None, mode=Mode.SUBTRACT)
        Polygon((-3.857185169, 21.15708209), (-2.869496828, 21.313516555), (-1.774455573, 14.399698171), (-2.762143913, 14.243263706), align=None, mode=Mode.SUBTRACT)
    extrude(amount=SALIENTE_EXTRUIR1_DEPTH)


solid = part.part
